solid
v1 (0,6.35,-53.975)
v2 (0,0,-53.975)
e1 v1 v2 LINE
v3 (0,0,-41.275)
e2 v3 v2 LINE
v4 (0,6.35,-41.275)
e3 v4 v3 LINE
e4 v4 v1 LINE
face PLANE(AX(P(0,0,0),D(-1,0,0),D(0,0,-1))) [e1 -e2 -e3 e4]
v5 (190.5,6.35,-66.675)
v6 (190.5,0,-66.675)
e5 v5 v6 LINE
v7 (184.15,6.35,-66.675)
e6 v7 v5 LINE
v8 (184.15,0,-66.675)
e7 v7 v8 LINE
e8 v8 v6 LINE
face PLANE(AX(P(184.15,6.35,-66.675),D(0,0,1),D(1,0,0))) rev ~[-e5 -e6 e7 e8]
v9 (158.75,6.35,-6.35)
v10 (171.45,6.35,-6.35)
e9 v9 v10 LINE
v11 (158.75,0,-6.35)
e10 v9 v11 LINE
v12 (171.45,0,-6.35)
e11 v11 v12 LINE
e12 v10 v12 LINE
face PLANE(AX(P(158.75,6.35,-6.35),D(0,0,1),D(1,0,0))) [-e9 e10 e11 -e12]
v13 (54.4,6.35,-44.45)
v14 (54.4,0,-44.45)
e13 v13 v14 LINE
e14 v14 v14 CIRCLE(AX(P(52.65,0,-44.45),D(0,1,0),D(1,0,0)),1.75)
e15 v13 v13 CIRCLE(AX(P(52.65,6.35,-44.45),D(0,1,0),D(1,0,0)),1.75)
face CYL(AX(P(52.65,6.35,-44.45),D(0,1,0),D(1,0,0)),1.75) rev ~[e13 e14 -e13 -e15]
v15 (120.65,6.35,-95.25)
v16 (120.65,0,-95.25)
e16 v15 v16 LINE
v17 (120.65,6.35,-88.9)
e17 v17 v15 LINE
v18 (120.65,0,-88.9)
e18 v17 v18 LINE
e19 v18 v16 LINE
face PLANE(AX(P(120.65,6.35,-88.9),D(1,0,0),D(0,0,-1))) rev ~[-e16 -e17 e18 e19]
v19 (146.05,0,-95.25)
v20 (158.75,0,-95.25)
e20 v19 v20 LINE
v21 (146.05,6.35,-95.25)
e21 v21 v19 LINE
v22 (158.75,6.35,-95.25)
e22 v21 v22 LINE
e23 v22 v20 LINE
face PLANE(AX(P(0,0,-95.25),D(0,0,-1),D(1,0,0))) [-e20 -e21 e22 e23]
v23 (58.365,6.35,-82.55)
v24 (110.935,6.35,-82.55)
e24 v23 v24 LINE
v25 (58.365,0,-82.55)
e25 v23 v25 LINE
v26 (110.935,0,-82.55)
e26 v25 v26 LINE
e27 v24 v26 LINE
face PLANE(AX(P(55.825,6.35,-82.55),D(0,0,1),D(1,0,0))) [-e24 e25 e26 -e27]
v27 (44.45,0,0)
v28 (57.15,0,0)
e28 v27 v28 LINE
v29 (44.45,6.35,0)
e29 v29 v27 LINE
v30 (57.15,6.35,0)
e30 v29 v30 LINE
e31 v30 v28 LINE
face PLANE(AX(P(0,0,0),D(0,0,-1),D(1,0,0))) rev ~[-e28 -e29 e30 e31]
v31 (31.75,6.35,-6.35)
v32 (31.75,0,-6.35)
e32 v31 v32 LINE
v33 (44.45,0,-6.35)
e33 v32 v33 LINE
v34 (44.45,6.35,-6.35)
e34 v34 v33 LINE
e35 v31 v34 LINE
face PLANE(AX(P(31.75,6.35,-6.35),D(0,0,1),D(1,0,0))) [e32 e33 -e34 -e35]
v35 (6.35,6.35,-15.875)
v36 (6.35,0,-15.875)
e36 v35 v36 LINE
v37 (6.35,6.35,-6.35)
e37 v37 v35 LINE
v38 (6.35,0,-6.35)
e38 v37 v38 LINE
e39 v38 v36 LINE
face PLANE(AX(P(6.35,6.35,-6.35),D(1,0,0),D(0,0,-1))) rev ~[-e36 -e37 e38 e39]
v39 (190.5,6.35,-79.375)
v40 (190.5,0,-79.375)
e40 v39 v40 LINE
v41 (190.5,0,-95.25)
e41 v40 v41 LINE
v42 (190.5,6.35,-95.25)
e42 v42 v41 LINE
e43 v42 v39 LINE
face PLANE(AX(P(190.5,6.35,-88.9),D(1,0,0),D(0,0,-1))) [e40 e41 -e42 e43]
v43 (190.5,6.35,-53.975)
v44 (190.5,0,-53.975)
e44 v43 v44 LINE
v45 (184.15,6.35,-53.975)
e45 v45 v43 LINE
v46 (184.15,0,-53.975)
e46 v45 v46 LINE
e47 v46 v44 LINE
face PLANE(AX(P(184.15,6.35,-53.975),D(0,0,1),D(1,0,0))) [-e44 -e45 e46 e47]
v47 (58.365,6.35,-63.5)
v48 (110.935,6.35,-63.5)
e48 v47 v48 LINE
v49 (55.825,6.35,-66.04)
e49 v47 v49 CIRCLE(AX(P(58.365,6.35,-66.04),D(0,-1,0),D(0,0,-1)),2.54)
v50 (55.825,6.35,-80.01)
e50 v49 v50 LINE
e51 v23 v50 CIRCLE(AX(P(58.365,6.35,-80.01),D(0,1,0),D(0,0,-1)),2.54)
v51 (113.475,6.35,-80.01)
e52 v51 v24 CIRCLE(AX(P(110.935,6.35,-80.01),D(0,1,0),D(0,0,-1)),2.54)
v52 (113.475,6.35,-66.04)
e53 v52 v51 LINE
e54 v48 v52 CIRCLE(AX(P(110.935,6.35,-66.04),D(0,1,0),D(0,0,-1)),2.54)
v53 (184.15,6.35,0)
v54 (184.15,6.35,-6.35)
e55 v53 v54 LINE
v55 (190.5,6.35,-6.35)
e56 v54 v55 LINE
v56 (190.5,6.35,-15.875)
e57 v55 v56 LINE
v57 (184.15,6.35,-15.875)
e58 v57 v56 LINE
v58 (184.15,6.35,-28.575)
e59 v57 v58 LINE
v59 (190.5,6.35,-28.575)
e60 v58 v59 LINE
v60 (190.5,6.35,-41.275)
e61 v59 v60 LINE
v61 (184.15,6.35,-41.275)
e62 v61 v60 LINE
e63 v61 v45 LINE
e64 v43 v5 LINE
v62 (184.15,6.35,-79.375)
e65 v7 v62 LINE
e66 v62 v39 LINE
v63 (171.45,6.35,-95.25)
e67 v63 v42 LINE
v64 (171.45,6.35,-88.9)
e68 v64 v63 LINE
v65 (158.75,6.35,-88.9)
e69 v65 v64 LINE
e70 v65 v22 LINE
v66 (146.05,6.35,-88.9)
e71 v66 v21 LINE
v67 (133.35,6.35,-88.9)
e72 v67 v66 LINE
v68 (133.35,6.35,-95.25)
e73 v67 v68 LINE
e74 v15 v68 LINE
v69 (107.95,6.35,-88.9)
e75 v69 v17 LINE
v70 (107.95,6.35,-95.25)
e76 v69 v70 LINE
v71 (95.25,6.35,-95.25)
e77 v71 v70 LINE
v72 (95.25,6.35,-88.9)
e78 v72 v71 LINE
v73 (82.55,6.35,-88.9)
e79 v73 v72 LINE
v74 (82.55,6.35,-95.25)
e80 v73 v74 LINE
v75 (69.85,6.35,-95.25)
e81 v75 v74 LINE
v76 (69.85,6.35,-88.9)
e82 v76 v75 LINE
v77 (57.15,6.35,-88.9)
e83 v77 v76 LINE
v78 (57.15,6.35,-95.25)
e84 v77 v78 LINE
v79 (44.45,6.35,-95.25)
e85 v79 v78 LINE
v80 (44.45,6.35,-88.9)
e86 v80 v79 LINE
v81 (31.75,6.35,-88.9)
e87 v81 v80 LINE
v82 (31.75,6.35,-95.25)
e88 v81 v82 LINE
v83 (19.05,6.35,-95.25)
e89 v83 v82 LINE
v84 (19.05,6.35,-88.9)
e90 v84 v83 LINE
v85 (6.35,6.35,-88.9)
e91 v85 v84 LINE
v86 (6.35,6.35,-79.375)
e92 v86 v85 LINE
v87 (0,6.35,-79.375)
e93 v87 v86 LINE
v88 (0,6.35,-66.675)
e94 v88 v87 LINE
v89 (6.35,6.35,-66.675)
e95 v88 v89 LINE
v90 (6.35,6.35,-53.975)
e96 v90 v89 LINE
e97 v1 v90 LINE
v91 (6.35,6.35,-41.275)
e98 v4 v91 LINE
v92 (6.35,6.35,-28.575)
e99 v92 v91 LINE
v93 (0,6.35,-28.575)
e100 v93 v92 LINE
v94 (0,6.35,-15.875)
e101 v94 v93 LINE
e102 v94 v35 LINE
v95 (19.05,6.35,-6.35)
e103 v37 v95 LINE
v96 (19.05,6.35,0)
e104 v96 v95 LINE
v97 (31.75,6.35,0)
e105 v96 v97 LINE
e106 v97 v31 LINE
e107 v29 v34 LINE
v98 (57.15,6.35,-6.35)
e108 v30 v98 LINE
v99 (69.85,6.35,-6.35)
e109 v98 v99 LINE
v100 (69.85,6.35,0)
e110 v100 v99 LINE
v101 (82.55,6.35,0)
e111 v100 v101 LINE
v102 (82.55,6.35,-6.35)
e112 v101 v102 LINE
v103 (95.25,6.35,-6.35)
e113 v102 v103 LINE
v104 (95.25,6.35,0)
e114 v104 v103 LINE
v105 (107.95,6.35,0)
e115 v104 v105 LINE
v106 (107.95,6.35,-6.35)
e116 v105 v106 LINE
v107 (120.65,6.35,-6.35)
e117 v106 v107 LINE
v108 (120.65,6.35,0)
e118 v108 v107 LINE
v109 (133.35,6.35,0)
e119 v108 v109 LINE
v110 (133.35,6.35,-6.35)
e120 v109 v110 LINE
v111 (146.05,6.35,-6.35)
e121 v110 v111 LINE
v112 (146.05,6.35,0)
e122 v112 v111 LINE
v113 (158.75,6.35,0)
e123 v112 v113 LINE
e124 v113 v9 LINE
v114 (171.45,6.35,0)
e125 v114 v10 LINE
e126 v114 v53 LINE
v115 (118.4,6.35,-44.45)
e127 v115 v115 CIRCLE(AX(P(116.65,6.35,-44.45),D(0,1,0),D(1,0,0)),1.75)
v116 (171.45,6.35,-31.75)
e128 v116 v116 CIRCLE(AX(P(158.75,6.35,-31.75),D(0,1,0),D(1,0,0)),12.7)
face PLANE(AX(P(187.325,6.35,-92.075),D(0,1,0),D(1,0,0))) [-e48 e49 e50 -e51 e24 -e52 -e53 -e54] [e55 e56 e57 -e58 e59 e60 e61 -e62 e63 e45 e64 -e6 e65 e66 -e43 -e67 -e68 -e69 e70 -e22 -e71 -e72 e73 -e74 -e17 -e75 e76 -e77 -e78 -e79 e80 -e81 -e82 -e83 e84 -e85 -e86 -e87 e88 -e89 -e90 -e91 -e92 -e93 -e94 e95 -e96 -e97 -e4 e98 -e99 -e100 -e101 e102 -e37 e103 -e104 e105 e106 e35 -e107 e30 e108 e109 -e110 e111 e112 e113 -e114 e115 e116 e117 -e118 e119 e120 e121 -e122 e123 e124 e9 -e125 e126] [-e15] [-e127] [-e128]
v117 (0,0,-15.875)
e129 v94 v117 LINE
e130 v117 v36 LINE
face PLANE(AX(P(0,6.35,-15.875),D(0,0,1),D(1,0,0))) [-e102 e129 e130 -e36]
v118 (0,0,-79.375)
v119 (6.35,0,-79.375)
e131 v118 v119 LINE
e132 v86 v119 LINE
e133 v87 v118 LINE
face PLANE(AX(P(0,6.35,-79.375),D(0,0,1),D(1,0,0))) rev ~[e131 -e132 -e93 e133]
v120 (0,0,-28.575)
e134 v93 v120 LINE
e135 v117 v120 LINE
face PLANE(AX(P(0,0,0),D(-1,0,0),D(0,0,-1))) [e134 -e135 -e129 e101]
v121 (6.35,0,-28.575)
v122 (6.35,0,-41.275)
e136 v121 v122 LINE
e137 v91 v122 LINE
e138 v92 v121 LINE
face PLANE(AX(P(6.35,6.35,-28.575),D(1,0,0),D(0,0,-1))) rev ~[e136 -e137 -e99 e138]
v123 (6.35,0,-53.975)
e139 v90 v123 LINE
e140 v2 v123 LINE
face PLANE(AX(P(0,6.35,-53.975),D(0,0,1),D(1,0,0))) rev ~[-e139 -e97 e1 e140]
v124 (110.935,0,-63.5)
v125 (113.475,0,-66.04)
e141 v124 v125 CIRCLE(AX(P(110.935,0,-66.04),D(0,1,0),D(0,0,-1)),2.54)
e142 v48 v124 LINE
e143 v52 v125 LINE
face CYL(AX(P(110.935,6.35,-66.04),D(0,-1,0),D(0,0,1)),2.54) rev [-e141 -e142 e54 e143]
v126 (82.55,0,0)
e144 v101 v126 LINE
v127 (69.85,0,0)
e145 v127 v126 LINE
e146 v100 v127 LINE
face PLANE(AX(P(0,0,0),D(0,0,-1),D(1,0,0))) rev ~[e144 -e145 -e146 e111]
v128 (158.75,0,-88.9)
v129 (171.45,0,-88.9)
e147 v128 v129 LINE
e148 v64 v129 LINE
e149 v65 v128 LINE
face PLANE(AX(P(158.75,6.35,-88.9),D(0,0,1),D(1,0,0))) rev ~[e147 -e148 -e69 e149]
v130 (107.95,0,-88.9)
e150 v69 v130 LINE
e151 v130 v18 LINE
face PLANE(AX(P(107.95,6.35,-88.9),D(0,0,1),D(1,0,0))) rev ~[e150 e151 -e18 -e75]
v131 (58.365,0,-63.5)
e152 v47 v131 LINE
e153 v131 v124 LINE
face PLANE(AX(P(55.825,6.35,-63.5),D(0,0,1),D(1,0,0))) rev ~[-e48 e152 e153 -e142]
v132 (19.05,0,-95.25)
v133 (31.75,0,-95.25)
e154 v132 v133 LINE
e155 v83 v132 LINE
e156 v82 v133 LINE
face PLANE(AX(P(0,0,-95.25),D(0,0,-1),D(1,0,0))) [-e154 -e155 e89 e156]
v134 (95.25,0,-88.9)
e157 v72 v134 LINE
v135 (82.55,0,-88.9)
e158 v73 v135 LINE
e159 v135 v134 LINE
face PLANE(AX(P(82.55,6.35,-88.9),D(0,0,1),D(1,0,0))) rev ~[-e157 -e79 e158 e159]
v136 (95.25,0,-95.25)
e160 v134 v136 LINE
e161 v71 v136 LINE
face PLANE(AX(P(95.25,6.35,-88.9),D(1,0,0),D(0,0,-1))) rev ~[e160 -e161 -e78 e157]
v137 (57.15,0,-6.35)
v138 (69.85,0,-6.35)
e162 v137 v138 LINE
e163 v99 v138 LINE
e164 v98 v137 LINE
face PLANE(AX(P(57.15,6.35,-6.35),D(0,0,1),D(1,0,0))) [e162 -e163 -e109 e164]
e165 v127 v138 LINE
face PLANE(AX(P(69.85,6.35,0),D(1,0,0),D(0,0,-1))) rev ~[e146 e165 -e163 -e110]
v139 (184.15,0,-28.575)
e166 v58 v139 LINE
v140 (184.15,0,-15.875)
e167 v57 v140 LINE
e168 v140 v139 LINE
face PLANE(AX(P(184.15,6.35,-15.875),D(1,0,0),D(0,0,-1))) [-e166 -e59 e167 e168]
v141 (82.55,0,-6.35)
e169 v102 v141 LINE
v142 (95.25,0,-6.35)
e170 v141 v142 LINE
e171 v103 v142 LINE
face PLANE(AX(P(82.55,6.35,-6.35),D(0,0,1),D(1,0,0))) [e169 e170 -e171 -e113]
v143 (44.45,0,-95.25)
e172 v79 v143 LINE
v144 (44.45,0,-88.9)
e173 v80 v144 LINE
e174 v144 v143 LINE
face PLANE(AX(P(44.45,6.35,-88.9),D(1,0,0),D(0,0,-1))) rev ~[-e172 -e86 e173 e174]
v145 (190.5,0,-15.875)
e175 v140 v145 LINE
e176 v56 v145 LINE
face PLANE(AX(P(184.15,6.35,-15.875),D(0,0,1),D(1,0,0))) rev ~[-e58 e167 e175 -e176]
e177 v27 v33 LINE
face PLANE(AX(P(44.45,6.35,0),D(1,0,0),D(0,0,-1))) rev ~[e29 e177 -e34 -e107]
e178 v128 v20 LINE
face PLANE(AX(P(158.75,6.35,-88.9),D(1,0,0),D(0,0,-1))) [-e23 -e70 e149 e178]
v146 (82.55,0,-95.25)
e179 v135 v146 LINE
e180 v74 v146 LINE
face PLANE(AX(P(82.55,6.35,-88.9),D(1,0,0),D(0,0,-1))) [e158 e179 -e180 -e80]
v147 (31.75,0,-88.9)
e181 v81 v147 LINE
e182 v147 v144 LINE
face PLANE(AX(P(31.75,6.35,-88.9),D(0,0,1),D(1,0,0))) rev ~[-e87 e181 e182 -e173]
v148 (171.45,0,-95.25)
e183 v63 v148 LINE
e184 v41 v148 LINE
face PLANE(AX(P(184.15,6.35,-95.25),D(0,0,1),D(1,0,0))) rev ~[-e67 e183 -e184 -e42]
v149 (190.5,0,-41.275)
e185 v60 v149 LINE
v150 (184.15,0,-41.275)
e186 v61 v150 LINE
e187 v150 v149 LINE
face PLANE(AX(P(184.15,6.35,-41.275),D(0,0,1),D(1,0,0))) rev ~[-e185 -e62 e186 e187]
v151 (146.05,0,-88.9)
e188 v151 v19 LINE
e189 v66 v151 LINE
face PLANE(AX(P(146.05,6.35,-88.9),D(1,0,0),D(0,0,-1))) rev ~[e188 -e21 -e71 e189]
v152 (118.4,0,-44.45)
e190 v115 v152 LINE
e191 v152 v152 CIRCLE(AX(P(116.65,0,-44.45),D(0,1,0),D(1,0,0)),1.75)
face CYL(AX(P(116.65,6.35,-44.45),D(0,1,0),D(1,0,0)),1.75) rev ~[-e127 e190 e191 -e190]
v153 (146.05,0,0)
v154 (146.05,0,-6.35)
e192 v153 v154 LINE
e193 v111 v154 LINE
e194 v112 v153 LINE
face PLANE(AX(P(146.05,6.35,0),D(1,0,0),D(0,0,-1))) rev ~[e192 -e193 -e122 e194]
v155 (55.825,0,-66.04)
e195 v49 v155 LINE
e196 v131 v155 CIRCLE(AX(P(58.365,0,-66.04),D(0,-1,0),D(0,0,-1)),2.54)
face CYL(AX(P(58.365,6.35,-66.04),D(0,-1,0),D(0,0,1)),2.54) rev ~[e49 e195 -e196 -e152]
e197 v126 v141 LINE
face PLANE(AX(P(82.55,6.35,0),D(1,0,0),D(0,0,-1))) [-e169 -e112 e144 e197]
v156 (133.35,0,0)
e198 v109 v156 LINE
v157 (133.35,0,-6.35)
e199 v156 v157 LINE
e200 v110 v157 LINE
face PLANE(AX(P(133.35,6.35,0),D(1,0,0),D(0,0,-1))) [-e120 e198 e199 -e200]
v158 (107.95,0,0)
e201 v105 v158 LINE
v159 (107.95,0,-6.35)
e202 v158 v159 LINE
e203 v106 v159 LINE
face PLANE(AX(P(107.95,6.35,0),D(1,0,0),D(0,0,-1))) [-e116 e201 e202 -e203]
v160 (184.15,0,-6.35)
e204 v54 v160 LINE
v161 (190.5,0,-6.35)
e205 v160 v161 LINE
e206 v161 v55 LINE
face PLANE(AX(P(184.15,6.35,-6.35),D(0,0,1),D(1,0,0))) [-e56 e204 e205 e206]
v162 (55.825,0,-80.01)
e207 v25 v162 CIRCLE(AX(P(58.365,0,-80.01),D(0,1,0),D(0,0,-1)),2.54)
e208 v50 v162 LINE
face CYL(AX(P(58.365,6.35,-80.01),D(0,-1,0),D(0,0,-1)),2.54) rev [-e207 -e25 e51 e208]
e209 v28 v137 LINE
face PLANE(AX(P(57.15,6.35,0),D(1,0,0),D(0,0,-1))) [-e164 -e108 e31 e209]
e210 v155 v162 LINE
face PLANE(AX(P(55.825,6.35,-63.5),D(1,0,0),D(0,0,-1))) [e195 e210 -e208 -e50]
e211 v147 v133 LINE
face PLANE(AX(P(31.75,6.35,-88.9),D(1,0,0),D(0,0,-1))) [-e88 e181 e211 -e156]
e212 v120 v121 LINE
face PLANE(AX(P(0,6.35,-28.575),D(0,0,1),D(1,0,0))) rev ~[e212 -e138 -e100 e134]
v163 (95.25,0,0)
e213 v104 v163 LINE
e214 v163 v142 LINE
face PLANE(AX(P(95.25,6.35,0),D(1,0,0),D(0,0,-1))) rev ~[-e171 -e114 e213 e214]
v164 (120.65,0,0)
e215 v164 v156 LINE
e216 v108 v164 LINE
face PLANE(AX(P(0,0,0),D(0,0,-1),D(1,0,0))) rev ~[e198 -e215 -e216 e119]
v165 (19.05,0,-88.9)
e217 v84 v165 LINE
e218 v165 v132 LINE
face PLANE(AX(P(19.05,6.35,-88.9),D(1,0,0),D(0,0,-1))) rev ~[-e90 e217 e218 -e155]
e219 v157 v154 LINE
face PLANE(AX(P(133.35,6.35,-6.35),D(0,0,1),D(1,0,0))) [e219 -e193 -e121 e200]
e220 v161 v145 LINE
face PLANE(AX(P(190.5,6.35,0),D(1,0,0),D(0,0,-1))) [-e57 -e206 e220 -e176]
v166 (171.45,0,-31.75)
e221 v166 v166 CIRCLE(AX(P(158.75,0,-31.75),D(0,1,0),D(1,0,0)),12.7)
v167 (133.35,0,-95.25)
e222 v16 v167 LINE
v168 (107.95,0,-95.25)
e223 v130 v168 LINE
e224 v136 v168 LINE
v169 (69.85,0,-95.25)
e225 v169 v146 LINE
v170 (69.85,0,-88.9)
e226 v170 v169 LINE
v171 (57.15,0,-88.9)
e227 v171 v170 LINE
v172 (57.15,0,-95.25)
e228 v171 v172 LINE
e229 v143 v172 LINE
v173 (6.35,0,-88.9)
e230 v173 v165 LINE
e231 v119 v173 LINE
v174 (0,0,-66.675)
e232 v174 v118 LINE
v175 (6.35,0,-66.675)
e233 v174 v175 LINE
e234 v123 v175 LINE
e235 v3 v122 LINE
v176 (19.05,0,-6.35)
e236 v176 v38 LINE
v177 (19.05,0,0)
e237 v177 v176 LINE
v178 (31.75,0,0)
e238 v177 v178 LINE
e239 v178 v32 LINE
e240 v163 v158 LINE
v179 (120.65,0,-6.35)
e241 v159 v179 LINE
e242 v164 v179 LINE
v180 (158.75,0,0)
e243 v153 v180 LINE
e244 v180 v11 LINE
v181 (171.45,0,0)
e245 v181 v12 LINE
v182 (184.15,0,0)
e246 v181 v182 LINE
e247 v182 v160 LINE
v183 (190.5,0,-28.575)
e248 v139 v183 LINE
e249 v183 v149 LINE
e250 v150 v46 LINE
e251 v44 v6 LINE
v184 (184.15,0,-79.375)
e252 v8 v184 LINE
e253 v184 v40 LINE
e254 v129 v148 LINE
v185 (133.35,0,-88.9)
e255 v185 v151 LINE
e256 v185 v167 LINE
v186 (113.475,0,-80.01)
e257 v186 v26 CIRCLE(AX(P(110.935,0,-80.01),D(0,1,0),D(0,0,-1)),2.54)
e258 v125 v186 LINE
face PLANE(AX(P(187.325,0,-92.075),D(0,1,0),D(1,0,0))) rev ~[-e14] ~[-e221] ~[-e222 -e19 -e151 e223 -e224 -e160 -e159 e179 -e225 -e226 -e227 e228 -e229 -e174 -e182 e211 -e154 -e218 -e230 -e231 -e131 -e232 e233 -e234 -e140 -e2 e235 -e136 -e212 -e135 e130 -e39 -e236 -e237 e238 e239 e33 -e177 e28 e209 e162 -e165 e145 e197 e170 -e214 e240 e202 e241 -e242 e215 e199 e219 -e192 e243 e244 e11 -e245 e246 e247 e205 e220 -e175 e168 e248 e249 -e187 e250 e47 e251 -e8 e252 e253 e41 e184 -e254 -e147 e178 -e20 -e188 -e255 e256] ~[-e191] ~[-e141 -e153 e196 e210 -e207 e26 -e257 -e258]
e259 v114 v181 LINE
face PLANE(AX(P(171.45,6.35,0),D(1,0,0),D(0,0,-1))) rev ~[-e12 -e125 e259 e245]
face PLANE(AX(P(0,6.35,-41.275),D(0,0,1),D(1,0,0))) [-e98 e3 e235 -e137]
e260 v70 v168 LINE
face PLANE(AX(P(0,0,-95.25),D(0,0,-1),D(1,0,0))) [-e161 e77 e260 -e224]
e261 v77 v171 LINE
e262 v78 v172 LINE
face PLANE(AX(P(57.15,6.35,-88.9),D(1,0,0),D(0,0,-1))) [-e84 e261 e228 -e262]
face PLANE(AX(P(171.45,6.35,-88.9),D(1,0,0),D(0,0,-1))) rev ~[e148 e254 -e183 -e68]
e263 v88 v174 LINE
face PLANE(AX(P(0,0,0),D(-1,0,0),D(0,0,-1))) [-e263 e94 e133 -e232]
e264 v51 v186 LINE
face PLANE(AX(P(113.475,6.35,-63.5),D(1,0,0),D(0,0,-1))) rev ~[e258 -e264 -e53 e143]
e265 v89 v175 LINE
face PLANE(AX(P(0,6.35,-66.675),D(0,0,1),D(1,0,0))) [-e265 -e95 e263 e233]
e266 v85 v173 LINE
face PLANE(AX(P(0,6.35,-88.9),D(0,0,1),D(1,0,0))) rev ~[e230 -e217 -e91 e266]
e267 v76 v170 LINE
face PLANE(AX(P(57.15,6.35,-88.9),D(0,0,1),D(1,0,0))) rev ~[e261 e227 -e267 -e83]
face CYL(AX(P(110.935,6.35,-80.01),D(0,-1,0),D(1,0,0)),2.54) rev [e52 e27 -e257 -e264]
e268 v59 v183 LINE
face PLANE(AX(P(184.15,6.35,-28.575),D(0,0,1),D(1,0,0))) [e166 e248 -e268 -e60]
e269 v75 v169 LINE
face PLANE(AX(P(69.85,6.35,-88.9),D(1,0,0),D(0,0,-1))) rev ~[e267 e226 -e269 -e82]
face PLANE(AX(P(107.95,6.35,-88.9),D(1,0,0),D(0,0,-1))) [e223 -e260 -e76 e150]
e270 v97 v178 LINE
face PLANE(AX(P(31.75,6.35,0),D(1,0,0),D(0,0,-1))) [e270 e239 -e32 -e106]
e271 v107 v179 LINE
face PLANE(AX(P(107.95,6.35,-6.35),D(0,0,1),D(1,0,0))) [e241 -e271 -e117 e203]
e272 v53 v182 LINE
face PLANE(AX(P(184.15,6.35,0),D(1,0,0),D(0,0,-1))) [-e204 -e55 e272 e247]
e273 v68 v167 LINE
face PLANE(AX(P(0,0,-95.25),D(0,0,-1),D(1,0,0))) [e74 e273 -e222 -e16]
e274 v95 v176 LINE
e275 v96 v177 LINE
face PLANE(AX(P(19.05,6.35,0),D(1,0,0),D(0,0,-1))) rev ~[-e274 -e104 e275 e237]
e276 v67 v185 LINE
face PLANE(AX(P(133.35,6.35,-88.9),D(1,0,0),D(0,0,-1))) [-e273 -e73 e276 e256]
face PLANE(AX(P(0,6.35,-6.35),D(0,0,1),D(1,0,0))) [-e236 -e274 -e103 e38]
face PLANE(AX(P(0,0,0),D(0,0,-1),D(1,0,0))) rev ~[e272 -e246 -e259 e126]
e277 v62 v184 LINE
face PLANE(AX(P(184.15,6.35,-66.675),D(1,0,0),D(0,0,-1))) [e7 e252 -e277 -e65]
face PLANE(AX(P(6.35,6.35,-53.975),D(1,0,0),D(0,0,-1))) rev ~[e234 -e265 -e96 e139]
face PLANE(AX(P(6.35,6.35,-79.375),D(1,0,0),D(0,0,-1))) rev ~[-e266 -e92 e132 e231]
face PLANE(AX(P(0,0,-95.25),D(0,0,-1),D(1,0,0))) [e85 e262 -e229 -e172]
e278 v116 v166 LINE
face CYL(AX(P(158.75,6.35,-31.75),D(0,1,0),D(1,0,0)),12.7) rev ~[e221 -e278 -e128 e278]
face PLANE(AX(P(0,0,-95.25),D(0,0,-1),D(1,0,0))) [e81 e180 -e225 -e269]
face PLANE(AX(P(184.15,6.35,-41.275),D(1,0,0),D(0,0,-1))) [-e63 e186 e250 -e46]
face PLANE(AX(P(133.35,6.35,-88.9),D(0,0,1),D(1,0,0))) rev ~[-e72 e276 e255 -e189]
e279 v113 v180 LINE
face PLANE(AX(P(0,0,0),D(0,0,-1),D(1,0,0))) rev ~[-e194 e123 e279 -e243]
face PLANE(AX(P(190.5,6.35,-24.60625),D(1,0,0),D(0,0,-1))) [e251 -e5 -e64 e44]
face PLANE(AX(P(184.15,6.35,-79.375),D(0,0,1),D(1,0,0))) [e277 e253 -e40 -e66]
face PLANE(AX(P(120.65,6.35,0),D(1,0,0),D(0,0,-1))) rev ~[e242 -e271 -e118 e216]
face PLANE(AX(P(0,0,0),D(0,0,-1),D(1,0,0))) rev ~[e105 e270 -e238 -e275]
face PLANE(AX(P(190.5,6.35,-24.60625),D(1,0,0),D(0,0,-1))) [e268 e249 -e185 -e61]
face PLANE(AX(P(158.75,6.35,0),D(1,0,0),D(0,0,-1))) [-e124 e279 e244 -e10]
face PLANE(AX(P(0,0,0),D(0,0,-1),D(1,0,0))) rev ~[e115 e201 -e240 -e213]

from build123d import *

# Parameters (mm, degrees)
SKETCH1_W           = 431.8
SKETCH1_H           = 95.25
BOSS_EXTRUDE1_DEPTH = 6.35
SKETCH2_W           = 12.7
SKETCH2_H           = 6.35
CUT_EXTRUDE1_DEPTH  = 7.35
LPATTERN1_COUNT     = 17
LPATTERN1_PITCH     = 25.4
SKETCH3_W           = 6.35
SKETCH3_H           = 6.35
CUT_EXTRUDE2_DEPTH  = 7.35
SKETCH5_W           = 6.35
SKETCH5_H           = 12.7
CUT_EXTRUDE4_DEPTH  = 7.35
LPATTERN2_COUNT     = 2
LPATTERN2_PITCH     = 25.4
LPATTERN2_COL_COUNT = 2
LPATTERN2_COL_PITCH = 25.4
SKETCH6_W           = 114.3
SKETCH6_H           = 46.0375
CUT_EXTRUDE5_DEPTH  = 7.35
SKETCH7_R           = 1.75
CUT_EXTRUDE6_DEPTH  = 7.35
SKETCH8_W           = 6.35
SKETCH8_H           = 9.525
SKETCH8_H_2         = 12.7
CUT_EXTRUDE7_DEPTH  = 7.35
LPATTERN3_COUNT     = 2
LPATTERN3_PITCH     = 425.45
SKETCH9_W           = 241.3
SKETCH9_H           = 95.25
CUT_EXTRUDE8_DEPTH  = 7.35
SKETCH11_W          = 6.35
SKETCH11_H          = 6.35
BOSS_EXTRUDE2_DEPTH = 6.35
SKETCH12_W          = 57.65
SKETCH12_H          = 19.05
CUT_EXTRUDE10_DEPTH = 7.35
FILLET1_R           = 2.54
SKETCH13_R          = 12.7
CUT_EXTRUDE11_DEPTH = 7.35


with BuildPart() as part:
    # Sketch1 → Boss-Extrude1 (new body)
    with BuildSketch(Plane(origin=(0, 0, 0), x_dir=(1, 0, 0), z_dir=(0, 1, 0))):
        with Locations((215.9, 47.625)):
            Rectangle(SKETCH1_W, SKETCH1_H)
    extrude(amount=BOSS_EXTRUDE1_DEPTH)

    # Sketch2 → Cut-Extrude1 (cut, through all)
    with BuildSketch(Plane(origin=(0, 6.35, 0), x_dir=(1, 0, 0), z_dir=(0, 1, 0))):
        with Locations((12.7, 92.075)):
            Rectangle(SKETCH2_W, SKETCH2_H)
        with Locations((12.7, 3.175)):
            Rectangle(SKETCH2_W, SKETCH2_H)
    cut_extrude1 = extrude(amount=-CUT_EXTRUDE1_DEPTH, mode=Mode.SUBTRACT)

    # LPattern1: Cut-Extrude1 ×17
    with Locations(*[(i * LPATTERN1_PITCH, 0, 0) for i in range(1, LPATTERN1_COUNT)]):
        add(cut_extrude1, mode=Mode.SUBTRACT)

    # Sketch3 → Cut-Extrude2 (cut, through all)
    with BuildSketch(Plane(origin=(0, 6.35, 0), x_dir=(1, 0, 0), z_dir=(0, 1, 0))):
        with Locations((3.175, 92.075)):
            Rectangle(SKETCH3_W, SKETCH3_H)
        with Locations((3.175, 3.175)):
            Rectangle(SKETCH3_W, SKETCH3_H)
        with Locations((428.625, 92.075)):
            Rectangle(SKETCH3_W, SKETCH3_H)
        with Locations((428.625, 3.175)):
            Rectangle(SKETCH3_W, SKETCH3_H)
    extrude(amount=-CUT_EXTRUDE2_DEPTH, mode=Mode.SUBTRACT)

    # Sketch5 → Cut-Extrude4 (cut, through all)
    with BuildSketch(Plane(origin=(0, 6.35, 0), x_dir=(1, 0, 0), z_dir=(0, 1, 0))):
        with Locations((187.325, 47.625)):
            Rectangle(SKETCH5_W, SKETCH5_H)
        with Locations((307.975, 47.625)):
            Rectangle(SKETCH5_W, SKETCH5_H)
    cut_extrude4 = extrude(amount=-CUT_EXTRUDE4_DEPTH, mode=Mode.SUBTRACT)

    # LPattern2: Cut-Extrude4 ×2
    with Locations(*[(0, 0, -i * LPATTERN2_PITCH) for i in range(1, LPATTERN2_COUNT)]):
        add(cut_extrude4, mode=Mode.SUBTRACT)

    # LPattern2 col: Cut-Extrude4 ×2
    with Locations(*[(0, 0, i * LPATTERN2_COL_PITCH) for i in range(1, LPATTERN2_COL_COUNT)]):
        add(cut_extrude4, mode=Mode.SUBTRACT)

    # Sketch6 → Cut-Extrude5 (cut, through all)
    with BuildSketch(Plane(origin=(0, 6.35, 0), x_dir=(1, 0, 0), z_dir=(0, 1, 0))):
        with Locations((247.65, 47.625)):
            Rectangle(SKETCH6_W, SKETCH6_H)
    extrude(amount=-CUT_EXTRUDE5_DEPTH, mode=Mode.SUBTRACT)

    # Sketch7 → Cut-Extrude6 (cut, through all)
    with BuildSketch(Plane(origin=(0, 6.35, 0), x_dir=(1, 0, 0), z_dir=(0, 1, 0))):
        with Locations((52.65, 44.45)):
            Circle(SKETCH7_R)
        with Locations((116.65, 44.45)):
            Circle(SKETCH7_R)
        with Locations((315.15, 44.45)):
            Circle(SKETCH7_R)
        with Locations((379.15, 44.45)):
            Circle(SKETCH7_R)
    extrude(amount=-CUT_EXTRUDE6_DEPTH, mode=Mode.SUBTRACT)

    # Sketch8 → Cut-Extrude7 (cut, through all)
    with BuildSketch(Plane(origin=(0, 6.35, 0), x_dir=(1, 0, 0), z_dir=(0, 1, 0))):
        with Locations((3.175, 84.1375)):
            Rectangle(SKETCH8_W, SKETCH8_H)
        with Locations((3.175, 11.1125)):
            Rectangle(SKETCH8_W, SKETCH8_H)
        with Locations((3.175, 34.925)):
            Rectangle(SKETCH8_W, SKETCH8_H_2)
        with Locations((3.175, 60.325)):
            Rectangle(SKETCH8_W, SKETCH8_H_2)
    cut_extrude7 = extrude(amount=-CUT_EXTRUDE7_DEPTH, mode=Mode.SUBTRACT)

    # LPattern3: Cut-Extrude7 ×2
    with Locations(*[(i * LPATTERN3_PITCH, 0, 0) for i in range(1, LPATTERN3_COUNT)]):
        add(cut_extrude7, mode=Mode.SUBTRACT)

    # Sketch9 → Cut-Extrude8 (cut, through all)
    with BuildSketch(Plane(origin=(0, 6.35, 0), x_dir=(1, 0, 0), z_dir=(0, 1, 0))):
        with Locations((311.15, 47.625)):
            Rectangle(SKETCH9_W, SKETCH9_H)
    extrude(amount=-CUT_EXTRUDE8_DEPTH, mode=Mode.SUBTRACT)

    # Sketch11 → Boss-Extrude2 (add, through all)
    with BuildSketch(Plane(origin=(0, 6.35, 0), x_dir=(1, 0, 0), z_dir=(0, 1, 0))):
        with Locations((187.325, 92.075)):
            Rectangle(SKETCH11_W, SKETCH11_H)
    extrude(amount=-BOSS_EXTRUDE2_DEPTH)

    # Sketch12 → Cut-Extrude10 (cut, through all)
    with BuildSketch(Plane(origin=(0, 6.35, 0), x_dir=(1, 0, 0), z_dir=(0, 1, 0))):
        with Locations((84.65, 73.025)):
            Rectangle(SKETCH12_W, SKETCH12_H)
    extrude(amount=-CUT_EXTRUDE10_DEPTH, mode=Mode.SUBTRACT)

    # Fillet1
    fillet1_edges = [part.edges().sort_by_distance(p)[0] for p in [
        (55.825, 3.175, -63.5),
        (55.825, 3.175, -82.55),
        (113.475, 3.175, -82.55),
        (113.475, 3.175, -63.5),
    ]]
    fillet(fillet1_edges, radius=FILLET1_R)

    # Sketch13 → Cut-Extrude11 (cut, through all)
    with BuildSketch(Plane(origin=(0, 6.35, 0), x_dir=(1, 0, 0), z_dir=(0, 1, 0))):
        with Locations((158.75, 31.75)):
            Circle(SKETCH13_R)
    extrude(amount=-CUT_EXTRUDE11_DEPTH, mode=Mode.SUBTRACT)


solid = part.part
